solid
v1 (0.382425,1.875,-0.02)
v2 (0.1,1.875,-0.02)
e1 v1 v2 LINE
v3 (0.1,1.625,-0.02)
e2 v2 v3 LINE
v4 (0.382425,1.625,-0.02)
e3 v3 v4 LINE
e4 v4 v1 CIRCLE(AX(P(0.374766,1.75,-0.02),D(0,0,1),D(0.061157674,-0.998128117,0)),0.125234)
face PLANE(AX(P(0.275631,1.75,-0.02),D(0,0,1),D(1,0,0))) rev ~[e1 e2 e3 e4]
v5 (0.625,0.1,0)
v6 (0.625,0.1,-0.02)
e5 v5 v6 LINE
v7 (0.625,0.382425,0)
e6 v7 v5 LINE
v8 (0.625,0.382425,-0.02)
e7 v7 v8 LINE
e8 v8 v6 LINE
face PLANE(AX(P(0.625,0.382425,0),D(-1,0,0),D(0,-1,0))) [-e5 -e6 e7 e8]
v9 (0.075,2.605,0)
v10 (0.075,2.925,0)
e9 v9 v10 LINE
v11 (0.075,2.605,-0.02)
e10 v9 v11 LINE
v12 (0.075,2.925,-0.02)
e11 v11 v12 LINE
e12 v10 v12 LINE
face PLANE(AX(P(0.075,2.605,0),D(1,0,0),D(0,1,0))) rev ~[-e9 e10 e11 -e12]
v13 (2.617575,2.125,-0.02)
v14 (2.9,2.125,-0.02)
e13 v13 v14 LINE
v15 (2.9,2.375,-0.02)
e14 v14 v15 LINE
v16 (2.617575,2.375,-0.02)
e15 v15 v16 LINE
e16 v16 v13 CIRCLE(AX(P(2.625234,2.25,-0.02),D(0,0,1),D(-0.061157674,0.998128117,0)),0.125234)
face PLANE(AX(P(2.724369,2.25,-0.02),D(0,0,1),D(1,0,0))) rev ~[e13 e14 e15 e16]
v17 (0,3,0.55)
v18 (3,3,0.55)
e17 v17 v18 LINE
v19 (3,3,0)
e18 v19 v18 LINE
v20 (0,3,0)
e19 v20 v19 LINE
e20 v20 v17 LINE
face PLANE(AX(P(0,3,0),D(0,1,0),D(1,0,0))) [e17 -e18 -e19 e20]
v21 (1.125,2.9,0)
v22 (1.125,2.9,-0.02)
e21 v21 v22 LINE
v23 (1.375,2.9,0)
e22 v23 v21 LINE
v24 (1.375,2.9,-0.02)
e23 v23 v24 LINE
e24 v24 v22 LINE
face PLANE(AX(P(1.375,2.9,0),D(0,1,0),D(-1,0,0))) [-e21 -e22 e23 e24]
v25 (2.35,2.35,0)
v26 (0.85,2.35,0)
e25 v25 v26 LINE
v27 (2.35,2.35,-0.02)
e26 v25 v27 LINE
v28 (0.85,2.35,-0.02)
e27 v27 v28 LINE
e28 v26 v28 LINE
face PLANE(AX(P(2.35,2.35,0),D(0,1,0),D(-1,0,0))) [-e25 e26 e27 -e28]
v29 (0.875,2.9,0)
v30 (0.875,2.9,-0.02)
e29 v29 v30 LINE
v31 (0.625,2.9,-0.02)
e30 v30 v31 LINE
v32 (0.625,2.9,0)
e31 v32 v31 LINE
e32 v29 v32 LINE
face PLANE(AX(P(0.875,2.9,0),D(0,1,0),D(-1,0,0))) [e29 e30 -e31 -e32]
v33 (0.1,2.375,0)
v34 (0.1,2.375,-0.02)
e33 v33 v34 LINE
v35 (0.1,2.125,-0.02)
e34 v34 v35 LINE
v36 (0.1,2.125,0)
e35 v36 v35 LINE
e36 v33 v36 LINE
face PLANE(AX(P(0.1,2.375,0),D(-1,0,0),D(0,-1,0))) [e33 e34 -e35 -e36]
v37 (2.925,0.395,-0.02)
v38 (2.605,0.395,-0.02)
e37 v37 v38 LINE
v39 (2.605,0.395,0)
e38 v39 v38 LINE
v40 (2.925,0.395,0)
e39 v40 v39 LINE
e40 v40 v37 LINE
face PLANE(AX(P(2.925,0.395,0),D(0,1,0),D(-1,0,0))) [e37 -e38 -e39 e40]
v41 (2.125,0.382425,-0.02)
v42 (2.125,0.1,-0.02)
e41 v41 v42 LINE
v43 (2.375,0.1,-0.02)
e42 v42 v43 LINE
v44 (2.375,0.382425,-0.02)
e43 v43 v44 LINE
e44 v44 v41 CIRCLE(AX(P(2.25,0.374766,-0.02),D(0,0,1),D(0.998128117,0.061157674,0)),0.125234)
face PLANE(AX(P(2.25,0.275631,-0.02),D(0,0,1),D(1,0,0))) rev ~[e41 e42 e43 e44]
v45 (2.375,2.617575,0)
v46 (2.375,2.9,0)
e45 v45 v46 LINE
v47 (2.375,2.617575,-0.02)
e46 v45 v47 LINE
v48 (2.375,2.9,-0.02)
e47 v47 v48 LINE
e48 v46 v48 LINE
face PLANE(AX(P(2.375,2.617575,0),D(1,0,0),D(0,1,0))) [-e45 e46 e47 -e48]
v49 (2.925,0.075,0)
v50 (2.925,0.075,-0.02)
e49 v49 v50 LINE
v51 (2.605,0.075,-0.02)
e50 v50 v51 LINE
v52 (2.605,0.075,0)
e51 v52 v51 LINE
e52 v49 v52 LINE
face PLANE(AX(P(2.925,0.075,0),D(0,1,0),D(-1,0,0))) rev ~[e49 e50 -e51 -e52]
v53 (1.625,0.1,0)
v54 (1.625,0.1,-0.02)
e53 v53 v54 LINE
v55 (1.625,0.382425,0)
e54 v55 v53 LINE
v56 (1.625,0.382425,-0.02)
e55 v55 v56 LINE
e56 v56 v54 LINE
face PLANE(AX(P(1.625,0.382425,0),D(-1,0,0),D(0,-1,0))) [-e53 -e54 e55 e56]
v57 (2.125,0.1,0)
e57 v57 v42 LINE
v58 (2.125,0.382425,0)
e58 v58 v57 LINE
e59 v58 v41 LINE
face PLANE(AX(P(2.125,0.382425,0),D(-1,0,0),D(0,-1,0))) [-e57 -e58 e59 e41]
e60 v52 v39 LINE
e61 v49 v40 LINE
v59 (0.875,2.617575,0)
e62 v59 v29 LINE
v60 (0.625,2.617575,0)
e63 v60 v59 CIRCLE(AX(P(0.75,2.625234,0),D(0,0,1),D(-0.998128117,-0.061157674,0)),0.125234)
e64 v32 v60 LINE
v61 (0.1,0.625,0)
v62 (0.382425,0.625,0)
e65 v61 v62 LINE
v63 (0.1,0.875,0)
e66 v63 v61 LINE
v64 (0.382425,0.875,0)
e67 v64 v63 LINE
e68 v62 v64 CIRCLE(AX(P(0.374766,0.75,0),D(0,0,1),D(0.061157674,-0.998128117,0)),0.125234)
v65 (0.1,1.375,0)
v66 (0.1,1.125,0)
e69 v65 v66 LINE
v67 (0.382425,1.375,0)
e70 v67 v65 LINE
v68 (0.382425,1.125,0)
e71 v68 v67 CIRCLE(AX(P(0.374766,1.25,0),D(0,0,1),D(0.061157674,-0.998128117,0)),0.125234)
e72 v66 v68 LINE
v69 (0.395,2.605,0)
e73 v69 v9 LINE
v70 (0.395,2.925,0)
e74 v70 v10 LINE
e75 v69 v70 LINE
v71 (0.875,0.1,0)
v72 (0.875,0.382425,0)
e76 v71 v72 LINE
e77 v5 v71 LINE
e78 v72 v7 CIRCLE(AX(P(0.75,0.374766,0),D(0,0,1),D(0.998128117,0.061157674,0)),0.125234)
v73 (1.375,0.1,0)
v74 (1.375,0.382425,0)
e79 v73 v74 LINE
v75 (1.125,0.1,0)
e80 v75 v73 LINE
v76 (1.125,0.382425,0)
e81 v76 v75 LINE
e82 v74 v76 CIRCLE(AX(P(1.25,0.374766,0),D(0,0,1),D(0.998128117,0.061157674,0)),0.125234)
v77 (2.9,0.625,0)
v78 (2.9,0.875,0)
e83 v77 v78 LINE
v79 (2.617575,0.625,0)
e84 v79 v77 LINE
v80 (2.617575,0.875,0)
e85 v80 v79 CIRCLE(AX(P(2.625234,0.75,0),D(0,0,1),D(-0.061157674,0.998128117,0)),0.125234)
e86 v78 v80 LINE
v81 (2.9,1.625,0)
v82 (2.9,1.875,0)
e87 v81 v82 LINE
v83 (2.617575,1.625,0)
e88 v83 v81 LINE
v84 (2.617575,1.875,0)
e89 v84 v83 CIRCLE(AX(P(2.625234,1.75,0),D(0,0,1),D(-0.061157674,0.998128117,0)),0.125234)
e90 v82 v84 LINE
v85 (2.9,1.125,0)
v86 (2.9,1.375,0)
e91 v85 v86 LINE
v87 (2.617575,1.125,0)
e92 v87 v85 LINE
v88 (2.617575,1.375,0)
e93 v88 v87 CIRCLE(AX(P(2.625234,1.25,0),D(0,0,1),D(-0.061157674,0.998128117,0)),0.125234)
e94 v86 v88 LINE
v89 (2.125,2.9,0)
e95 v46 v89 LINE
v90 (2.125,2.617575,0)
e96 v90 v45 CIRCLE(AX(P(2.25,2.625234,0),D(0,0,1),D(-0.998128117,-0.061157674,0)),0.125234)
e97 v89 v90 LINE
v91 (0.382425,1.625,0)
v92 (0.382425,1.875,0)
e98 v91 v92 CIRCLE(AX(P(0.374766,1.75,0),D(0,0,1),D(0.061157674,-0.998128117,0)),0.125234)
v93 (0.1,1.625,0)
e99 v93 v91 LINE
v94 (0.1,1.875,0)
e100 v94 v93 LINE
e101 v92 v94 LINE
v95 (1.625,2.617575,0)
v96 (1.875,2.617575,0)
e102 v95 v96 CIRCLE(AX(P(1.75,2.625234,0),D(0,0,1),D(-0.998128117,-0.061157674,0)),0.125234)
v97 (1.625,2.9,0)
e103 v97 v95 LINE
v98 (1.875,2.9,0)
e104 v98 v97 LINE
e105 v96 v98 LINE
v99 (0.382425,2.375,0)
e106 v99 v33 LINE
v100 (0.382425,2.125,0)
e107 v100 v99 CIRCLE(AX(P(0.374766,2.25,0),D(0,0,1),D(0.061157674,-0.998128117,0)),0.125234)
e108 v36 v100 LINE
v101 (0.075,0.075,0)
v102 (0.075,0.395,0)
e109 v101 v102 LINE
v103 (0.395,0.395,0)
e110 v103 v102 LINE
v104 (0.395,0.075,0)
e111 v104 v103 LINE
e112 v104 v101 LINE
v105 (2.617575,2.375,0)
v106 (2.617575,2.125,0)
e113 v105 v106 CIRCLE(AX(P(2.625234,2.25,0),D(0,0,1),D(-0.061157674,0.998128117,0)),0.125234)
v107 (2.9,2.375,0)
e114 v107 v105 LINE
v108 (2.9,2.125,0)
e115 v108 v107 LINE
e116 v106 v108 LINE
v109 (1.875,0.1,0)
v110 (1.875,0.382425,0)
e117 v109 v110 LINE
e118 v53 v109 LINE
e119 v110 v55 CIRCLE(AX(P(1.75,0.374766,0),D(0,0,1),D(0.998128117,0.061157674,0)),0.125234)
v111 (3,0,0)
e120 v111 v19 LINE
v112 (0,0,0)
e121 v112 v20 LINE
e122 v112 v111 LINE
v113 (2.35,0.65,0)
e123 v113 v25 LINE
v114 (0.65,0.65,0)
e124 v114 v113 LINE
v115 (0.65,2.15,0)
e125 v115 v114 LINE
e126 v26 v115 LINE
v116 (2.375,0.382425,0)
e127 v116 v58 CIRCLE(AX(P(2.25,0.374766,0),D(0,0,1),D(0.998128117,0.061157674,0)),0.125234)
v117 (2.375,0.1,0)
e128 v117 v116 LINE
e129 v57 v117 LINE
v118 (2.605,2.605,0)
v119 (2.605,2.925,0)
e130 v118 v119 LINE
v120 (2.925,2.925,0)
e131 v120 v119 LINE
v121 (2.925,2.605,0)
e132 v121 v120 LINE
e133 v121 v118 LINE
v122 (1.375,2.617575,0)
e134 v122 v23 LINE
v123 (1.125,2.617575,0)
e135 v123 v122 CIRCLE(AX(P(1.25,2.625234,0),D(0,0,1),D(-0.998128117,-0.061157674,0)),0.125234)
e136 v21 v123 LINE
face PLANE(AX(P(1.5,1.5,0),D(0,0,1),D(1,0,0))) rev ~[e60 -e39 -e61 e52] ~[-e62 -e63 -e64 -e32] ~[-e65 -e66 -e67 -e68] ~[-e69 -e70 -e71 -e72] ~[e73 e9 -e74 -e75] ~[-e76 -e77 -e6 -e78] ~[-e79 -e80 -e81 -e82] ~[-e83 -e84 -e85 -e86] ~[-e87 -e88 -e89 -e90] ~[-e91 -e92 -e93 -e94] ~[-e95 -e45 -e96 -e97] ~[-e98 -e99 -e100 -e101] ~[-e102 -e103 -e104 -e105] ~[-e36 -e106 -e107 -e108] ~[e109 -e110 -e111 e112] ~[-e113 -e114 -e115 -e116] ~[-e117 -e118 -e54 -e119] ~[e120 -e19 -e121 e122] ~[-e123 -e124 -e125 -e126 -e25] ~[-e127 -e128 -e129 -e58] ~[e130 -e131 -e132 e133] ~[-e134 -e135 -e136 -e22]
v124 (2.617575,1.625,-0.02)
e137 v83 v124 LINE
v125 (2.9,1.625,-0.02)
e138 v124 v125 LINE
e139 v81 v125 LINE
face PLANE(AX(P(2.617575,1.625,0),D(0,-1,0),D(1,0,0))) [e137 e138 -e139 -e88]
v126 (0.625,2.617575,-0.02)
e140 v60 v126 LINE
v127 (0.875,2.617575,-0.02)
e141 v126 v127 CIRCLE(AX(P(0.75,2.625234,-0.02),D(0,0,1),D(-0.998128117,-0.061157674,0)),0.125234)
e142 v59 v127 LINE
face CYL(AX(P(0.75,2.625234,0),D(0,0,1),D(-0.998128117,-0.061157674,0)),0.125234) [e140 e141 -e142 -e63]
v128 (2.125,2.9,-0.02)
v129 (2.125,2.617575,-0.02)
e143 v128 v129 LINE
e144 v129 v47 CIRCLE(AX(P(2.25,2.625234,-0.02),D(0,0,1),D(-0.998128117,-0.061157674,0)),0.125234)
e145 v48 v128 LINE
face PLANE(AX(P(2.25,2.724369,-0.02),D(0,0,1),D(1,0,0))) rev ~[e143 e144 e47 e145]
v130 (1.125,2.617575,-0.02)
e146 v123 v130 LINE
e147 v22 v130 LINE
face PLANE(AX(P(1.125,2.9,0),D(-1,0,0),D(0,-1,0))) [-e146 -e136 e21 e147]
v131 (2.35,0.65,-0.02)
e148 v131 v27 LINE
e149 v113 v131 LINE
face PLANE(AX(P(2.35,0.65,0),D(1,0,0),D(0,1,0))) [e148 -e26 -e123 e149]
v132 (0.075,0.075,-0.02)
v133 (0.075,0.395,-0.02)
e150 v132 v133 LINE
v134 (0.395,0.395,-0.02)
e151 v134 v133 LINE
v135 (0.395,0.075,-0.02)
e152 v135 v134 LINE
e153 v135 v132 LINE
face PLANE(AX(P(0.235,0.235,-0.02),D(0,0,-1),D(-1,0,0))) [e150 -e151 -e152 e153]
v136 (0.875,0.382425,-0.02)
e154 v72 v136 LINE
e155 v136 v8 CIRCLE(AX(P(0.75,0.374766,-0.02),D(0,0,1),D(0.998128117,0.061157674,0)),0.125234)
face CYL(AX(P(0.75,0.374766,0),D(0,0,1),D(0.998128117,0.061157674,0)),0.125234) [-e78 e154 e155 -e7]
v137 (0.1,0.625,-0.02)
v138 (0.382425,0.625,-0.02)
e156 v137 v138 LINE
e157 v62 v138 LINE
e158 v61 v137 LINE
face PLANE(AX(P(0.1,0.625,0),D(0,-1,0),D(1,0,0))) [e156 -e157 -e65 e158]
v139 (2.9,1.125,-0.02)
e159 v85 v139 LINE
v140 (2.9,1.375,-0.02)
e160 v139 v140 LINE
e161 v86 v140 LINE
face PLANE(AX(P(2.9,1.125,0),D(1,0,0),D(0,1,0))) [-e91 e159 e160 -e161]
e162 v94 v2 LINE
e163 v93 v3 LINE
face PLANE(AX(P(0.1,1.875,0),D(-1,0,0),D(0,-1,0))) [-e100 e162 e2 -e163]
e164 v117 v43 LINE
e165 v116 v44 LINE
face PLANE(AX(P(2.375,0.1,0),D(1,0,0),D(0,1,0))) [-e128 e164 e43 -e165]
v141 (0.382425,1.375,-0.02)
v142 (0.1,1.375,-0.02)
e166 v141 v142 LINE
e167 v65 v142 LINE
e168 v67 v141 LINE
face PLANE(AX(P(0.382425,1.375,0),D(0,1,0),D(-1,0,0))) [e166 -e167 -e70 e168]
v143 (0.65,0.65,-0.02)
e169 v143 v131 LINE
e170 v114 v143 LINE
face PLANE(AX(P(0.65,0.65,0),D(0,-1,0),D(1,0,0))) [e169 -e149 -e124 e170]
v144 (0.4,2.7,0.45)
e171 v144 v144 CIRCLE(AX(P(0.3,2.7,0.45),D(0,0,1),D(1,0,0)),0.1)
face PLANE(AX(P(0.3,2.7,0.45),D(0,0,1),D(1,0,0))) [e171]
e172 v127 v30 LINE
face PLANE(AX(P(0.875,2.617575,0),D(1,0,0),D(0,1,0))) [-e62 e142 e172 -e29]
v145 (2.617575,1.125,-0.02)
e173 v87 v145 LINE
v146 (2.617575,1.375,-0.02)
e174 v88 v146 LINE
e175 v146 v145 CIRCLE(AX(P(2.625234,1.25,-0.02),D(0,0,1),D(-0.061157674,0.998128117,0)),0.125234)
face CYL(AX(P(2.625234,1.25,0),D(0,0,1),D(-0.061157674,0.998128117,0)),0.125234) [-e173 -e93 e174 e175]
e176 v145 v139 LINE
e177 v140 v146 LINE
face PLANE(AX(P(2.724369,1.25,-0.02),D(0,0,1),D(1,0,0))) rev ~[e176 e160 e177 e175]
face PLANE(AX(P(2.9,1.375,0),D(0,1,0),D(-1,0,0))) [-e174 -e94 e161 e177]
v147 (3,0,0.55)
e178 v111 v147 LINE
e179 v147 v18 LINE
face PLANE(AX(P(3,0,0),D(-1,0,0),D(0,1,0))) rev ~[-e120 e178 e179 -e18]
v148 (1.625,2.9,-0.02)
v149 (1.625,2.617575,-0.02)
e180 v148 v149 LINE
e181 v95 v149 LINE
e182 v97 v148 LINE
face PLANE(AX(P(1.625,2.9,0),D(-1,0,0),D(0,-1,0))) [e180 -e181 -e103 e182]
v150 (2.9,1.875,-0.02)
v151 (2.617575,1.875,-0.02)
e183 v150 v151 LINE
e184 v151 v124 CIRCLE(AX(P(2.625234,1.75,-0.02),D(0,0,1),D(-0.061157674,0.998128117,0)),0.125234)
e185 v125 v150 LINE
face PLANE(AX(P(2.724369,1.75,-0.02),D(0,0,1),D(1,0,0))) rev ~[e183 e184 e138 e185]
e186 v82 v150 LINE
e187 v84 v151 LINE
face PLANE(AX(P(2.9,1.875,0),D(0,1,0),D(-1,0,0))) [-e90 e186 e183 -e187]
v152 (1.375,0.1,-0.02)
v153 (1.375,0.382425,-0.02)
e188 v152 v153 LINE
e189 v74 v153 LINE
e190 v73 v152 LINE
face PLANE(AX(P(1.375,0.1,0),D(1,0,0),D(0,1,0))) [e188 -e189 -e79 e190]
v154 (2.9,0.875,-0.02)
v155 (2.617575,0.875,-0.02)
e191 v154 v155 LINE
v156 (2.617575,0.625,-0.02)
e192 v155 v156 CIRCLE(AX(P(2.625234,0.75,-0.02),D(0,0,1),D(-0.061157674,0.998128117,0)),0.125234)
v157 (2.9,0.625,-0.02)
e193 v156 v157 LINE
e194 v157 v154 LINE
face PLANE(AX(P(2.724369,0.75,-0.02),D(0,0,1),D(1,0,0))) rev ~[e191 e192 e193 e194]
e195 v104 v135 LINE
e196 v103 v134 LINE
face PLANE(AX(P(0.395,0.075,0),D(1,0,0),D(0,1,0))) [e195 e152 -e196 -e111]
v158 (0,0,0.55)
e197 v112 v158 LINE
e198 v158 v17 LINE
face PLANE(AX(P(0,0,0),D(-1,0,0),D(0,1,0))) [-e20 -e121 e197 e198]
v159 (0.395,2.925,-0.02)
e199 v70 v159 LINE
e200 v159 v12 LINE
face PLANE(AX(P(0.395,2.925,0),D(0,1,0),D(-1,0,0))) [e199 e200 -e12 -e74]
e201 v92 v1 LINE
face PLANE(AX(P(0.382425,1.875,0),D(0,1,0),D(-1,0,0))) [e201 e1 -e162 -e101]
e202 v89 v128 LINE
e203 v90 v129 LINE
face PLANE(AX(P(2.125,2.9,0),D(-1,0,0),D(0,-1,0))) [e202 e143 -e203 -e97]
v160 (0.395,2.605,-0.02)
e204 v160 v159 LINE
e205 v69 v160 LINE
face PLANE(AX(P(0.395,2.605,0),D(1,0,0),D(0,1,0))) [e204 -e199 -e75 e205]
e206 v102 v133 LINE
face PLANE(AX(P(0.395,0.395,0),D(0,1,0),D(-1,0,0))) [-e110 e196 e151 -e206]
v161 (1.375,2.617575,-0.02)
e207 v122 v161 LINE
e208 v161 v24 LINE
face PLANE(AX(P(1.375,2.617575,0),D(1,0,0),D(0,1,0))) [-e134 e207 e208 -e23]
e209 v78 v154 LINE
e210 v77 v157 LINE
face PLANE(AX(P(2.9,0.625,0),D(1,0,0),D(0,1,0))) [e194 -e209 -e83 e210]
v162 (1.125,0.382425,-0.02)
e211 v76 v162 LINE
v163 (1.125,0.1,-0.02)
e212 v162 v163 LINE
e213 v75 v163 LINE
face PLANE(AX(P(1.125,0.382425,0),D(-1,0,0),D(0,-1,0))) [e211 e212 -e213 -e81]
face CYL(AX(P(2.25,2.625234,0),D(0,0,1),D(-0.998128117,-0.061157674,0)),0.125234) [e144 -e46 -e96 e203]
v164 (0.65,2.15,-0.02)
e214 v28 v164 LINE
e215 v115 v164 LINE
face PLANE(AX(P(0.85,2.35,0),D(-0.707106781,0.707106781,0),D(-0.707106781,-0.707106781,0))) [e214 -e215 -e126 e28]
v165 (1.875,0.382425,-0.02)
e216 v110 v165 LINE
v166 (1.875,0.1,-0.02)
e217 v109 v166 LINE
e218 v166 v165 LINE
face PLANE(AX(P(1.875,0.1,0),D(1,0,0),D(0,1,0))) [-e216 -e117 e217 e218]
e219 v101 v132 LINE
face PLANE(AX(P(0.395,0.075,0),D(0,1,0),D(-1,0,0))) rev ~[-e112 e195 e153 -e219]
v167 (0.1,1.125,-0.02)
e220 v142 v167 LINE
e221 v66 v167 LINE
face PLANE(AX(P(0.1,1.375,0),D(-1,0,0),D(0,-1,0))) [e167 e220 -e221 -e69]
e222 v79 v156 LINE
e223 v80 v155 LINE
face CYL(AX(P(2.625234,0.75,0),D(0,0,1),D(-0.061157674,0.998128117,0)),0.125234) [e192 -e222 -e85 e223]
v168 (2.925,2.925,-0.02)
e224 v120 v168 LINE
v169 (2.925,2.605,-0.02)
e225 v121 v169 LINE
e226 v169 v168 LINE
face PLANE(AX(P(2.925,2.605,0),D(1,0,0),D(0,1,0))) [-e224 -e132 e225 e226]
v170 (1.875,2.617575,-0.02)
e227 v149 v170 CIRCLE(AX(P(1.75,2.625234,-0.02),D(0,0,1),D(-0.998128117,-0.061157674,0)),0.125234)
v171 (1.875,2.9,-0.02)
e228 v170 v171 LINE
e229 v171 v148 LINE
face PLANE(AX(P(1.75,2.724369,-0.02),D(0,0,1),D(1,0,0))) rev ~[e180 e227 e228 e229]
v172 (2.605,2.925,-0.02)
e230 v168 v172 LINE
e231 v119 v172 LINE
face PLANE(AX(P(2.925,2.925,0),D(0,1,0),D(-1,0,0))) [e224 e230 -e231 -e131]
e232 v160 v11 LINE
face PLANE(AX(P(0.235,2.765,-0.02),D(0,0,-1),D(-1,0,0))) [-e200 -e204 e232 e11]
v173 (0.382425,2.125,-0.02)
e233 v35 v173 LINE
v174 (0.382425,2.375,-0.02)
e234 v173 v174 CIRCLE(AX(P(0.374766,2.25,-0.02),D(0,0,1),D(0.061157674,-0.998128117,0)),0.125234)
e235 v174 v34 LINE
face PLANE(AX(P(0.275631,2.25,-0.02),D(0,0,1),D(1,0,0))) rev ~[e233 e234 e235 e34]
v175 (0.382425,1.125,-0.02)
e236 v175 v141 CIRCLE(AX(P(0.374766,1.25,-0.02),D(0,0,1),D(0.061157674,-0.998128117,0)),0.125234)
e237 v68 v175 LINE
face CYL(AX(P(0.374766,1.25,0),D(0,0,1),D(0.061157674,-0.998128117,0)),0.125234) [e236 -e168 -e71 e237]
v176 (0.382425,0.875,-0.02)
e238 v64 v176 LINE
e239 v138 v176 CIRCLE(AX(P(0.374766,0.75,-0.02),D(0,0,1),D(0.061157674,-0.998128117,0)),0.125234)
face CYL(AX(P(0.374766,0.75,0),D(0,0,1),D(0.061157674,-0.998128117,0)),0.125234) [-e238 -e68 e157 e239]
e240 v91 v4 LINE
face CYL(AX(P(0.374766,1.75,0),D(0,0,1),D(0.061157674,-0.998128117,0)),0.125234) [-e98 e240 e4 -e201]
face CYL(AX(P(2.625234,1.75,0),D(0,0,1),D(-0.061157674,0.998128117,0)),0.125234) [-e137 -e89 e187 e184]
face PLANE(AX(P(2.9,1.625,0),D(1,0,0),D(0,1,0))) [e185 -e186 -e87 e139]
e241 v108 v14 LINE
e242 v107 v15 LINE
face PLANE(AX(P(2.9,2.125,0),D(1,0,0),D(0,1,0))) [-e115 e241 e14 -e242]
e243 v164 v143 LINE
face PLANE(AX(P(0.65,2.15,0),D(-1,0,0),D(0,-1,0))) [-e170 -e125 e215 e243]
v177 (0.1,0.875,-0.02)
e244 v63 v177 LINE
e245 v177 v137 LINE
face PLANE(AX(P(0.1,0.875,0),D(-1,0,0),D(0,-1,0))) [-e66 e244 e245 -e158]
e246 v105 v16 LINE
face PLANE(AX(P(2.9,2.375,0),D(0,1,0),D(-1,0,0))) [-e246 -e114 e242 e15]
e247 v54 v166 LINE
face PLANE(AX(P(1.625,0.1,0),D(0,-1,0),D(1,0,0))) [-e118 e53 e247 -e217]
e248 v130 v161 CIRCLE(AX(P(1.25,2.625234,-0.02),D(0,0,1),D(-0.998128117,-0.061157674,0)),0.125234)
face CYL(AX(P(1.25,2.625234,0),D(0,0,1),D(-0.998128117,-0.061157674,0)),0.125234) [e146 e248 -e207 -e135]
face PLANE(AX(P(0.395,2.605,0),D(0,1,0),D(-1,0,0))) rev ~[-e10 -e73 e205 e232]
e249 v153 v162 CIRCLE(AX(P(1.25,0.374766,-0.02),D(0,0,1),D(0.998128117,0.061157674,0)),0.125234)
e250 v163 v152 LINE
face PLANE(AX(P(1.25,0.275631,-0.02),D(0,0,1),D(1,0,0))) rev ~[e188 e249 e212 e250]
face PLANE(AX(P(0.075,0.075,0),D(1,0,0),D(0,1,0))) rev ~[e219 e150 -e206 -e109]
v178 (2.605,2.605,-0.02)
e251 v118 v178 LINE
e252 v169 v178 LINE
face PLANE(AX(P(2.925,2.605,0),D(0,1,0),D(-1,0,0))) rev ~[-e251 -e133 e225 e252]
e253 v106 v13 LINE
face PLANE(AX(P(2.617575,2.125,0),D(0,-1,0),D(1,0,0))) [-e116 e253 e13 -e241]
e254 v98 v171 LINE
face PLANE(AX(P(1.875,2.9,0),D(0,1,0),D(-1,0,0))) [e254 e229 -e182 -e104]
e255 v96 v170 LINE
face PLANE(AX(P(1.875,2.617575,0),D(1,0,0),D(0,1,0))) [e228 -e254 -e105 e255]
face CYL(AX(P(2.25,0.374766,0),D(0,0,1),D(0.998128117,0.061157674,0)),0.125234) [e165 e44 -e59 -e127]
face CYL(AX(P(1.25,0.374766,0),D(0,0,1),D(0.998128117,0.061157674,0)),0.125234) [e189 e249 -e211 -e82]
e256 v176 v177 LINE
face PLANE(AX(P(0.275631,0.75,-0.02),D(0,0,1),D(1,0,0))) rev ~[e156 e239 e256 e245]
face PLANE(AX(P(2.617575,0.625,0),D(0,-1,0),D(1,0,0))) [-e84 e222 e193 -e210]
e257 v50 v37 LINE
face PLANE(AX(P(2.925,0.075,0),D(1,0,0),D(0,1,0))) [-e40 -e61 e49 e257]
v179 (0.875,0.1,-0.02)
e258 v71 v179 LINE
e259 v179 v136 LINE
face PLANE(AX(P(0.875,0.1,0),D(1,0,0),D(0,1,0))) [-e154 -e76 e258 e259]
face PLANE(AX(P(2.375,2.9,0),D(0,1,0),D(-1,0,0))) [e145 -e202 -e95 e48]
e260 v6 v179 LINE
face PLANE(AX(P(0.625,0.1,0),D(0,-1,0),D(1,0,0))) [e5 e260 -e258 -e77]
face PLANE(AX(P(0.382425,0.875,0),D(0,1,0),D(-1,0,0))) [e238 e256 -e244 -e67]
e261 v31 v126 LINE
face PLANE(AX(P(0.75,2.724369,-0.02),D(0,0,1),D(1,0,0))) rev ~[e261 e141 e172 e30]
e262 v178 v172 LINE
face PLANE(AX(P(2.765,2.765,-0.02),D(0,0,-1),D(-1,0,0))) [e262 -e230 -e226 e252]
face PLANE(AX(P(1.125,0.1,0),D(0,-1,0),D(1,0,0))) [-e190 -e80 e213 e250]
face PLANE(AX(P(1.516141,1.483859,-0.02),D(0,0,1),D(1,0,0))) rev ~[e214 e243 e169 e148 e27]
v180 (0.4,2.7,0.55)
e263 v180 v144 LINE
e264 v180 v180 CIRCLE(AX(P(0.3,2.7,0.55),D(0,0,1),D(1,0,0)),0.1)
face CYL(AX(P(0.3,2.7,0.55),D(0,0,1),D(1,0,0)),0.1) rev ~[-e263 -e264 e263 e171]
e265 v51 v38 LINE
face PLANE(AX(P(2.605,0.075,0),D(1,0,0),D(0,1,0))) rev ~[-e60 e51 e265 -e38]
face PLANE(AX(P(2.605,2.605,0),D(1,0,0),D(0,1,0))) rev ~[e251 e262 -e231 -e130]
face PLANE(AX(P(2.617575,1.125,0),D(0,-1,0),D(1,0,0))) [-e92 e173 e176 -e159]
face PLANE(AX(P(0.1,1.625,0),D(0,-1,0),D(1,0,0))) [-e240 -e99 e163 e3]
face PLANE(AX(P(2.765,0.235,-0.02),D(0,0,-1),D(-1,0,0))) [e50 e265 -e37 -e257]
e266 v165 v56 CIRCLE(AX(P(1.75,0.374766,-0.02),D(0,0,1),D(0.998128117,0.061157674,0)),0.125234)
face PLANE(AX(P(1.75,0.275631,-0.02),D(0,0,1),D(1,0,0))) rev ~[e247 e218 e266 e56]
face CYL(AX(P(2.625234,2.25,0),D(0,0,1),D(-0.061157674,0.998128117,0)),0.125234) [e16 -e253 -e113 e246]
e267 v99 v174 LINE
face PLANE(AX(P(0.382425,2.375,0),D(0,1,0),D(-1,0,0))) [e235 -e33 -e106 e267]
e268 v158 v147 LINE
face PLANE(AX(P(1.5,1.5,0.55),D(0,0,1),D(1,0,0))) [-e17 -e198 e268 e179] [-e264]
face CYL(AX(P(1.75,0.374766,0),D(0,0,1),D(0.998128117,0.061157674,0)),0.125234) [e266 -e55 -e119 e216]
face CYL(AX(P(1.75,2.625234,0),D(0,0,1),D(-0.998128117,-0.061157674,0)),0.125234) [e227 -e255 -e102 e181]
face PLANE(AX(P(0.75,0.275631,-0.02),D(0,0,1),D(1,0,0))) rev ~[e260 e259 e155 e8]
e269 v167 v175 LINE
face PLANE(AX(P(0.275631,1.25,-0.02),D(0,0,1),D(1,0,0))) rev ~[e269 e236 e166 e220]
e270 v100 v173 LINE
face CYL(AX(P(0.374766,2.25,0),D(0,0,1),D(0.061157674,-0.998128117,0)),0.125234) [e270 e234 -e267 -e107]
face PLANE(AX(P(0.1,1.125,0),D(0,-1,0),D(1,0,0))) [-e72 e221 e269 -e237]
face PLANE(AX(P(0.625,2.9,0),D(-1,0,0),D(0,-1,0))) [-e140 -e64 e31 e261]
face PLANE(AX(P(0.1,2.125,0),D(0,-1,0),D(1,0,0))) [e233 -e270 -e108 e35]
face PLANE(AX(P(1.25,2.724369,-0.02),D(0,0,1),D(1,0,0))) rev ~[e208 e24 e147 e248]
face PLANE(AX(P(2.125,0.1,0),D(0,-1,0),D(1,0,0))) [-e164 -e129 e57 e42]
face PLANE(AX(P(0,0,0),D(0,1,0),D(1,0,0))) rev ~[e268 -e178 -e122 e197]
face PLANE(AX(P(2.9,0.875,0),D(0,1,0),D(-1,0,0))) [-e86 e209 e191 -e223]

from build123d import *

# Parameters (mm, degrees)
SKETCH1_W           = 3
SKETCH1_H           = 3
BOSS_EXTRUDE1_DEPTH = 0.55
SKETCH2_R           = 0.1
CUT_EXTRUDE1_DEPTH  = 0.1
SKETCH3_W           = 0.32
SKETCH3_H           = 0.32
BOSS_EXTRUDE2_DEPTH = 0.02


with BuildPart() as part:
    # Sketch1 → Boss-Extrude1 (new body)
    with BuildSketch(Plane.XY):
        with Locations((1.5, 1.5)):
            Rectangle(SKETCH1_W, SKETCH1_H)
    extrude(amount=BOSS_EXTRUDE1_DEPTH)

    # Sketch2 → Cut-Extrude1 (cut)
    with BuildSketch(Plane.XY.offset(0.55)):
        with Locations((0.3, 2.7)):
            Circle(SKETCH2_R)
    extrude(amount=-CUT_EXTRUDE1_DEPTH, mode=Mode.SUBTRACT)

    # Sketch3 → Boss-Extrude2 (add)
    with BuildSketch(Plane(origin=(0, 0, 0), x_dir=(-1, 0, 0), z_dir=(0, 0, -1))):
        with Locations((-2.765, 2.765)):
            Rectangle(SKETCH3_W, SKETCH3_H)
        with Locations((-0.235, 2.765)):
            Rectangle(SKETCH3_W, SKETCH3_H)
        with Locations((-0.235, 0.235)):
            Rectangle(SKETCH3_W, SKETCH3_H)
        with Locations((-2.765, 0.235)):
            Rectangle(SKETCH3_W, SKETCH3_H)
        Polygon((-0.85, 2.35), (-0.65, 2.15), (-0.65, 0.65), (-2.35, 0.65), (-2.35, 2.35), align=None)
        with BuildLine():
            Line((-2.375, 2.9), (-2.125, 2.9))
            Line((-2.125, 2.9), (-2.125, 2.617575378))
            ThreePointArc((-2.125, 2.617575378), (-2.25, 2.5), (-2.375, 2.617575378))
            Line((-2.375, 2.617575378), (-2.375, 2.9))
        make_face()
        with BuildLine():
            Line((-1.875, 2.9), (-1.625, 2.9))
            Line((-1.625, 2.9), (-1.625, 2.617575378))
            ThreePointArc((-1.625, 2.617575378), (-1.75, 2.5), (-1.875, 2.617575378))
            Line((-1.875, 2.617575378), (-1.875, 2.9))
        make_face()
        with BuildLine():
            Line((-1.375, 2.9), (-1.125, 2.9))
            Line((-1.125, 2.9), (-1.125, 2.617575378))
            ThreePointArc((-1.125, 2.617575378), (-1.25, 2.5), (-1.375, 2.617575378))
            Line((-1.375, 2.617575378), (-1.375, 2.9))
        make_face()
        with BuildLine():
            Line((-0.875, 2.9), (-0.625, 2.9))
            Line((-0.625, 2.9), (-0.625, 2.617575378))
            ThreePointArc((-0.625, 2.617575378), (-0.75, 2.5), (-0.875, 2.617575378))
            Line((-0.875, 2.617575378), (-0.875, 2.9))
        make_face()
        with BuildLine():
            Line((-0.1, 2.375), (-0.1, 2.125))
            Line((-0.1, 2.125), (-0.382424622, 2.125))
            ThreePointArc((-0.382424622, 2.125), (-0.5, 2.25), (-0.382424622, 2.375))
            Line((-0.382424622, 2.375), (-0.1, 2.375))
        make_face()
        with BuildLine():
            Line((-0.1, 1.875), (-0.1, 1.625))
            Line((-0.1, 1.625), (-0.382424622, 1.625))
            ThreePointArc((-0.382424622, 1.625), (-0.5, 1.75), (-0.382424622, 1.875))
            Line((-0.382424622, 1.875), (-0.1, 1.875))
        make_face()
        with BuildLine():
            Line((-0.1, 1.375), (-0.1, 1.125))
            Line((-0.1, 1.125), (-0.382424622, 1.125))
            ThreePointArc((-0.382424622, 1.125), (-0.5, 1.25), (-0.382424622, 1.375))
            Line((-0.382424622, 1.375), (-0.1, 1.375))
        make_face()
        with BuildLine():
            Line((-0.1, 0.875), (-0.1, 0.625))
            Line((-0.1, 0.625), (-0.382424622, 0.625))
            ThreePointArc((-0.382424622, 0.625), (-0.5, 0.75), (-0.382424622, 0.875))
            Line((-0.382424622, 0.875), (-0.1, 0.875))
        make_face()
        with BuildLine():
            Line((-0.625, 0.1), (-0.875, 0.1))
            Line((-0.875, 0.1), (-0.875, 0.382424622))
            ThreePointArc((-0.875, 0.382424622), (-0.75, 0.5), (-0.625, 0.382424622))
            Line((-0.625, 0.382424622), (-0.625, 0.1))
        make_face()
        with BuildLine():
            Line((-1.125, 0.1), (-1.375, 0.1))
            Line((-1.375, 0.1), (-1.375, 0.382424622))
            ThreePointArc((-1.375, 0.382424622), (-1.25, 0.5), (-1.125, 0.382424622))
            Line((-1.125, 0.382424622), (-1.125, 0.1))
        make_face()
        with BuildLine():
            Line((-1.625, 0.1), (-1.875, 0.1))
            Line((-1.875, 0.1), (-1.875, 0.382424622))
            ThreePointArc((-1.875, 0.382424622), (-1.75, 0.5), (-1.625, 0.382424622))
            Line((-1.625, 0.382424622), (-1.625, 0.1))
        make_face()
        with BuildLine():
            Line((-2.125, 0.1), (-2.375, 0.1))
            Line((-2.375, 0.1), (-2.375, 0.382424622))
            ThreePointArc((-2.375, 0.382424622), (-2.25, 0.5), (-2.125, 0.382424622))
            Line((-2.125, 0.382424622), (-2.125, 0.1))
        make_face()
        with BuildLine():
            Line((-2.9, 0.625), (-2.9, 0.875))
            Line((-2.9, 0.875), (-2.617575378, 0.875))
            ThreePointArc((-2.617575378, 0.875), (-2.5, 0.75), (-2.617575378, 0.625))
            Line((-2.617575378, 0.625), (-2.9, 0.625))
        make_face()
        with BuildLine():
            Line((-2.9, 1.125), (-2.9, 1.375))
            Line((-2.9, 1.375), (-2.617575378, 1.375))
            ThreePointArc((-2.617575378, 1.375), (-2.5, 1.25), (-2.617575378, 1.125))
            Line((-2.617575378, 1.125), (-2.9, 1.125))
        make_face()
        with BuildLine():
            Line((-2.9, 1.625), (-2.9, 1.875))
            Line((-2.9, 1.875), (-2.617575378, 1.875))
            ThreePointArc((-2.617575378, 1.875), (-2.5, 1.75), (-2.617575378, 1.625))
            Line((-2.617575378, 1.625), (-2.9, 1.625))
        make_face()
        with BuildLine():
            Line((-2.9, 2.125), (-2.9, 2.375))
            Line((-2.9, 2.375), (-2.617575378, 2.375))
            ThreePointArc((-2.617575378, 2.375), (-2.5, 2.25), (-2.617575378, 2.125))
            Line((-2.617575378, 2.125), (-2.9, 2.125))
        make_face()
    extrude(amount=BOSS_EXTRUDE2_DEPTH)


solid = part.part
